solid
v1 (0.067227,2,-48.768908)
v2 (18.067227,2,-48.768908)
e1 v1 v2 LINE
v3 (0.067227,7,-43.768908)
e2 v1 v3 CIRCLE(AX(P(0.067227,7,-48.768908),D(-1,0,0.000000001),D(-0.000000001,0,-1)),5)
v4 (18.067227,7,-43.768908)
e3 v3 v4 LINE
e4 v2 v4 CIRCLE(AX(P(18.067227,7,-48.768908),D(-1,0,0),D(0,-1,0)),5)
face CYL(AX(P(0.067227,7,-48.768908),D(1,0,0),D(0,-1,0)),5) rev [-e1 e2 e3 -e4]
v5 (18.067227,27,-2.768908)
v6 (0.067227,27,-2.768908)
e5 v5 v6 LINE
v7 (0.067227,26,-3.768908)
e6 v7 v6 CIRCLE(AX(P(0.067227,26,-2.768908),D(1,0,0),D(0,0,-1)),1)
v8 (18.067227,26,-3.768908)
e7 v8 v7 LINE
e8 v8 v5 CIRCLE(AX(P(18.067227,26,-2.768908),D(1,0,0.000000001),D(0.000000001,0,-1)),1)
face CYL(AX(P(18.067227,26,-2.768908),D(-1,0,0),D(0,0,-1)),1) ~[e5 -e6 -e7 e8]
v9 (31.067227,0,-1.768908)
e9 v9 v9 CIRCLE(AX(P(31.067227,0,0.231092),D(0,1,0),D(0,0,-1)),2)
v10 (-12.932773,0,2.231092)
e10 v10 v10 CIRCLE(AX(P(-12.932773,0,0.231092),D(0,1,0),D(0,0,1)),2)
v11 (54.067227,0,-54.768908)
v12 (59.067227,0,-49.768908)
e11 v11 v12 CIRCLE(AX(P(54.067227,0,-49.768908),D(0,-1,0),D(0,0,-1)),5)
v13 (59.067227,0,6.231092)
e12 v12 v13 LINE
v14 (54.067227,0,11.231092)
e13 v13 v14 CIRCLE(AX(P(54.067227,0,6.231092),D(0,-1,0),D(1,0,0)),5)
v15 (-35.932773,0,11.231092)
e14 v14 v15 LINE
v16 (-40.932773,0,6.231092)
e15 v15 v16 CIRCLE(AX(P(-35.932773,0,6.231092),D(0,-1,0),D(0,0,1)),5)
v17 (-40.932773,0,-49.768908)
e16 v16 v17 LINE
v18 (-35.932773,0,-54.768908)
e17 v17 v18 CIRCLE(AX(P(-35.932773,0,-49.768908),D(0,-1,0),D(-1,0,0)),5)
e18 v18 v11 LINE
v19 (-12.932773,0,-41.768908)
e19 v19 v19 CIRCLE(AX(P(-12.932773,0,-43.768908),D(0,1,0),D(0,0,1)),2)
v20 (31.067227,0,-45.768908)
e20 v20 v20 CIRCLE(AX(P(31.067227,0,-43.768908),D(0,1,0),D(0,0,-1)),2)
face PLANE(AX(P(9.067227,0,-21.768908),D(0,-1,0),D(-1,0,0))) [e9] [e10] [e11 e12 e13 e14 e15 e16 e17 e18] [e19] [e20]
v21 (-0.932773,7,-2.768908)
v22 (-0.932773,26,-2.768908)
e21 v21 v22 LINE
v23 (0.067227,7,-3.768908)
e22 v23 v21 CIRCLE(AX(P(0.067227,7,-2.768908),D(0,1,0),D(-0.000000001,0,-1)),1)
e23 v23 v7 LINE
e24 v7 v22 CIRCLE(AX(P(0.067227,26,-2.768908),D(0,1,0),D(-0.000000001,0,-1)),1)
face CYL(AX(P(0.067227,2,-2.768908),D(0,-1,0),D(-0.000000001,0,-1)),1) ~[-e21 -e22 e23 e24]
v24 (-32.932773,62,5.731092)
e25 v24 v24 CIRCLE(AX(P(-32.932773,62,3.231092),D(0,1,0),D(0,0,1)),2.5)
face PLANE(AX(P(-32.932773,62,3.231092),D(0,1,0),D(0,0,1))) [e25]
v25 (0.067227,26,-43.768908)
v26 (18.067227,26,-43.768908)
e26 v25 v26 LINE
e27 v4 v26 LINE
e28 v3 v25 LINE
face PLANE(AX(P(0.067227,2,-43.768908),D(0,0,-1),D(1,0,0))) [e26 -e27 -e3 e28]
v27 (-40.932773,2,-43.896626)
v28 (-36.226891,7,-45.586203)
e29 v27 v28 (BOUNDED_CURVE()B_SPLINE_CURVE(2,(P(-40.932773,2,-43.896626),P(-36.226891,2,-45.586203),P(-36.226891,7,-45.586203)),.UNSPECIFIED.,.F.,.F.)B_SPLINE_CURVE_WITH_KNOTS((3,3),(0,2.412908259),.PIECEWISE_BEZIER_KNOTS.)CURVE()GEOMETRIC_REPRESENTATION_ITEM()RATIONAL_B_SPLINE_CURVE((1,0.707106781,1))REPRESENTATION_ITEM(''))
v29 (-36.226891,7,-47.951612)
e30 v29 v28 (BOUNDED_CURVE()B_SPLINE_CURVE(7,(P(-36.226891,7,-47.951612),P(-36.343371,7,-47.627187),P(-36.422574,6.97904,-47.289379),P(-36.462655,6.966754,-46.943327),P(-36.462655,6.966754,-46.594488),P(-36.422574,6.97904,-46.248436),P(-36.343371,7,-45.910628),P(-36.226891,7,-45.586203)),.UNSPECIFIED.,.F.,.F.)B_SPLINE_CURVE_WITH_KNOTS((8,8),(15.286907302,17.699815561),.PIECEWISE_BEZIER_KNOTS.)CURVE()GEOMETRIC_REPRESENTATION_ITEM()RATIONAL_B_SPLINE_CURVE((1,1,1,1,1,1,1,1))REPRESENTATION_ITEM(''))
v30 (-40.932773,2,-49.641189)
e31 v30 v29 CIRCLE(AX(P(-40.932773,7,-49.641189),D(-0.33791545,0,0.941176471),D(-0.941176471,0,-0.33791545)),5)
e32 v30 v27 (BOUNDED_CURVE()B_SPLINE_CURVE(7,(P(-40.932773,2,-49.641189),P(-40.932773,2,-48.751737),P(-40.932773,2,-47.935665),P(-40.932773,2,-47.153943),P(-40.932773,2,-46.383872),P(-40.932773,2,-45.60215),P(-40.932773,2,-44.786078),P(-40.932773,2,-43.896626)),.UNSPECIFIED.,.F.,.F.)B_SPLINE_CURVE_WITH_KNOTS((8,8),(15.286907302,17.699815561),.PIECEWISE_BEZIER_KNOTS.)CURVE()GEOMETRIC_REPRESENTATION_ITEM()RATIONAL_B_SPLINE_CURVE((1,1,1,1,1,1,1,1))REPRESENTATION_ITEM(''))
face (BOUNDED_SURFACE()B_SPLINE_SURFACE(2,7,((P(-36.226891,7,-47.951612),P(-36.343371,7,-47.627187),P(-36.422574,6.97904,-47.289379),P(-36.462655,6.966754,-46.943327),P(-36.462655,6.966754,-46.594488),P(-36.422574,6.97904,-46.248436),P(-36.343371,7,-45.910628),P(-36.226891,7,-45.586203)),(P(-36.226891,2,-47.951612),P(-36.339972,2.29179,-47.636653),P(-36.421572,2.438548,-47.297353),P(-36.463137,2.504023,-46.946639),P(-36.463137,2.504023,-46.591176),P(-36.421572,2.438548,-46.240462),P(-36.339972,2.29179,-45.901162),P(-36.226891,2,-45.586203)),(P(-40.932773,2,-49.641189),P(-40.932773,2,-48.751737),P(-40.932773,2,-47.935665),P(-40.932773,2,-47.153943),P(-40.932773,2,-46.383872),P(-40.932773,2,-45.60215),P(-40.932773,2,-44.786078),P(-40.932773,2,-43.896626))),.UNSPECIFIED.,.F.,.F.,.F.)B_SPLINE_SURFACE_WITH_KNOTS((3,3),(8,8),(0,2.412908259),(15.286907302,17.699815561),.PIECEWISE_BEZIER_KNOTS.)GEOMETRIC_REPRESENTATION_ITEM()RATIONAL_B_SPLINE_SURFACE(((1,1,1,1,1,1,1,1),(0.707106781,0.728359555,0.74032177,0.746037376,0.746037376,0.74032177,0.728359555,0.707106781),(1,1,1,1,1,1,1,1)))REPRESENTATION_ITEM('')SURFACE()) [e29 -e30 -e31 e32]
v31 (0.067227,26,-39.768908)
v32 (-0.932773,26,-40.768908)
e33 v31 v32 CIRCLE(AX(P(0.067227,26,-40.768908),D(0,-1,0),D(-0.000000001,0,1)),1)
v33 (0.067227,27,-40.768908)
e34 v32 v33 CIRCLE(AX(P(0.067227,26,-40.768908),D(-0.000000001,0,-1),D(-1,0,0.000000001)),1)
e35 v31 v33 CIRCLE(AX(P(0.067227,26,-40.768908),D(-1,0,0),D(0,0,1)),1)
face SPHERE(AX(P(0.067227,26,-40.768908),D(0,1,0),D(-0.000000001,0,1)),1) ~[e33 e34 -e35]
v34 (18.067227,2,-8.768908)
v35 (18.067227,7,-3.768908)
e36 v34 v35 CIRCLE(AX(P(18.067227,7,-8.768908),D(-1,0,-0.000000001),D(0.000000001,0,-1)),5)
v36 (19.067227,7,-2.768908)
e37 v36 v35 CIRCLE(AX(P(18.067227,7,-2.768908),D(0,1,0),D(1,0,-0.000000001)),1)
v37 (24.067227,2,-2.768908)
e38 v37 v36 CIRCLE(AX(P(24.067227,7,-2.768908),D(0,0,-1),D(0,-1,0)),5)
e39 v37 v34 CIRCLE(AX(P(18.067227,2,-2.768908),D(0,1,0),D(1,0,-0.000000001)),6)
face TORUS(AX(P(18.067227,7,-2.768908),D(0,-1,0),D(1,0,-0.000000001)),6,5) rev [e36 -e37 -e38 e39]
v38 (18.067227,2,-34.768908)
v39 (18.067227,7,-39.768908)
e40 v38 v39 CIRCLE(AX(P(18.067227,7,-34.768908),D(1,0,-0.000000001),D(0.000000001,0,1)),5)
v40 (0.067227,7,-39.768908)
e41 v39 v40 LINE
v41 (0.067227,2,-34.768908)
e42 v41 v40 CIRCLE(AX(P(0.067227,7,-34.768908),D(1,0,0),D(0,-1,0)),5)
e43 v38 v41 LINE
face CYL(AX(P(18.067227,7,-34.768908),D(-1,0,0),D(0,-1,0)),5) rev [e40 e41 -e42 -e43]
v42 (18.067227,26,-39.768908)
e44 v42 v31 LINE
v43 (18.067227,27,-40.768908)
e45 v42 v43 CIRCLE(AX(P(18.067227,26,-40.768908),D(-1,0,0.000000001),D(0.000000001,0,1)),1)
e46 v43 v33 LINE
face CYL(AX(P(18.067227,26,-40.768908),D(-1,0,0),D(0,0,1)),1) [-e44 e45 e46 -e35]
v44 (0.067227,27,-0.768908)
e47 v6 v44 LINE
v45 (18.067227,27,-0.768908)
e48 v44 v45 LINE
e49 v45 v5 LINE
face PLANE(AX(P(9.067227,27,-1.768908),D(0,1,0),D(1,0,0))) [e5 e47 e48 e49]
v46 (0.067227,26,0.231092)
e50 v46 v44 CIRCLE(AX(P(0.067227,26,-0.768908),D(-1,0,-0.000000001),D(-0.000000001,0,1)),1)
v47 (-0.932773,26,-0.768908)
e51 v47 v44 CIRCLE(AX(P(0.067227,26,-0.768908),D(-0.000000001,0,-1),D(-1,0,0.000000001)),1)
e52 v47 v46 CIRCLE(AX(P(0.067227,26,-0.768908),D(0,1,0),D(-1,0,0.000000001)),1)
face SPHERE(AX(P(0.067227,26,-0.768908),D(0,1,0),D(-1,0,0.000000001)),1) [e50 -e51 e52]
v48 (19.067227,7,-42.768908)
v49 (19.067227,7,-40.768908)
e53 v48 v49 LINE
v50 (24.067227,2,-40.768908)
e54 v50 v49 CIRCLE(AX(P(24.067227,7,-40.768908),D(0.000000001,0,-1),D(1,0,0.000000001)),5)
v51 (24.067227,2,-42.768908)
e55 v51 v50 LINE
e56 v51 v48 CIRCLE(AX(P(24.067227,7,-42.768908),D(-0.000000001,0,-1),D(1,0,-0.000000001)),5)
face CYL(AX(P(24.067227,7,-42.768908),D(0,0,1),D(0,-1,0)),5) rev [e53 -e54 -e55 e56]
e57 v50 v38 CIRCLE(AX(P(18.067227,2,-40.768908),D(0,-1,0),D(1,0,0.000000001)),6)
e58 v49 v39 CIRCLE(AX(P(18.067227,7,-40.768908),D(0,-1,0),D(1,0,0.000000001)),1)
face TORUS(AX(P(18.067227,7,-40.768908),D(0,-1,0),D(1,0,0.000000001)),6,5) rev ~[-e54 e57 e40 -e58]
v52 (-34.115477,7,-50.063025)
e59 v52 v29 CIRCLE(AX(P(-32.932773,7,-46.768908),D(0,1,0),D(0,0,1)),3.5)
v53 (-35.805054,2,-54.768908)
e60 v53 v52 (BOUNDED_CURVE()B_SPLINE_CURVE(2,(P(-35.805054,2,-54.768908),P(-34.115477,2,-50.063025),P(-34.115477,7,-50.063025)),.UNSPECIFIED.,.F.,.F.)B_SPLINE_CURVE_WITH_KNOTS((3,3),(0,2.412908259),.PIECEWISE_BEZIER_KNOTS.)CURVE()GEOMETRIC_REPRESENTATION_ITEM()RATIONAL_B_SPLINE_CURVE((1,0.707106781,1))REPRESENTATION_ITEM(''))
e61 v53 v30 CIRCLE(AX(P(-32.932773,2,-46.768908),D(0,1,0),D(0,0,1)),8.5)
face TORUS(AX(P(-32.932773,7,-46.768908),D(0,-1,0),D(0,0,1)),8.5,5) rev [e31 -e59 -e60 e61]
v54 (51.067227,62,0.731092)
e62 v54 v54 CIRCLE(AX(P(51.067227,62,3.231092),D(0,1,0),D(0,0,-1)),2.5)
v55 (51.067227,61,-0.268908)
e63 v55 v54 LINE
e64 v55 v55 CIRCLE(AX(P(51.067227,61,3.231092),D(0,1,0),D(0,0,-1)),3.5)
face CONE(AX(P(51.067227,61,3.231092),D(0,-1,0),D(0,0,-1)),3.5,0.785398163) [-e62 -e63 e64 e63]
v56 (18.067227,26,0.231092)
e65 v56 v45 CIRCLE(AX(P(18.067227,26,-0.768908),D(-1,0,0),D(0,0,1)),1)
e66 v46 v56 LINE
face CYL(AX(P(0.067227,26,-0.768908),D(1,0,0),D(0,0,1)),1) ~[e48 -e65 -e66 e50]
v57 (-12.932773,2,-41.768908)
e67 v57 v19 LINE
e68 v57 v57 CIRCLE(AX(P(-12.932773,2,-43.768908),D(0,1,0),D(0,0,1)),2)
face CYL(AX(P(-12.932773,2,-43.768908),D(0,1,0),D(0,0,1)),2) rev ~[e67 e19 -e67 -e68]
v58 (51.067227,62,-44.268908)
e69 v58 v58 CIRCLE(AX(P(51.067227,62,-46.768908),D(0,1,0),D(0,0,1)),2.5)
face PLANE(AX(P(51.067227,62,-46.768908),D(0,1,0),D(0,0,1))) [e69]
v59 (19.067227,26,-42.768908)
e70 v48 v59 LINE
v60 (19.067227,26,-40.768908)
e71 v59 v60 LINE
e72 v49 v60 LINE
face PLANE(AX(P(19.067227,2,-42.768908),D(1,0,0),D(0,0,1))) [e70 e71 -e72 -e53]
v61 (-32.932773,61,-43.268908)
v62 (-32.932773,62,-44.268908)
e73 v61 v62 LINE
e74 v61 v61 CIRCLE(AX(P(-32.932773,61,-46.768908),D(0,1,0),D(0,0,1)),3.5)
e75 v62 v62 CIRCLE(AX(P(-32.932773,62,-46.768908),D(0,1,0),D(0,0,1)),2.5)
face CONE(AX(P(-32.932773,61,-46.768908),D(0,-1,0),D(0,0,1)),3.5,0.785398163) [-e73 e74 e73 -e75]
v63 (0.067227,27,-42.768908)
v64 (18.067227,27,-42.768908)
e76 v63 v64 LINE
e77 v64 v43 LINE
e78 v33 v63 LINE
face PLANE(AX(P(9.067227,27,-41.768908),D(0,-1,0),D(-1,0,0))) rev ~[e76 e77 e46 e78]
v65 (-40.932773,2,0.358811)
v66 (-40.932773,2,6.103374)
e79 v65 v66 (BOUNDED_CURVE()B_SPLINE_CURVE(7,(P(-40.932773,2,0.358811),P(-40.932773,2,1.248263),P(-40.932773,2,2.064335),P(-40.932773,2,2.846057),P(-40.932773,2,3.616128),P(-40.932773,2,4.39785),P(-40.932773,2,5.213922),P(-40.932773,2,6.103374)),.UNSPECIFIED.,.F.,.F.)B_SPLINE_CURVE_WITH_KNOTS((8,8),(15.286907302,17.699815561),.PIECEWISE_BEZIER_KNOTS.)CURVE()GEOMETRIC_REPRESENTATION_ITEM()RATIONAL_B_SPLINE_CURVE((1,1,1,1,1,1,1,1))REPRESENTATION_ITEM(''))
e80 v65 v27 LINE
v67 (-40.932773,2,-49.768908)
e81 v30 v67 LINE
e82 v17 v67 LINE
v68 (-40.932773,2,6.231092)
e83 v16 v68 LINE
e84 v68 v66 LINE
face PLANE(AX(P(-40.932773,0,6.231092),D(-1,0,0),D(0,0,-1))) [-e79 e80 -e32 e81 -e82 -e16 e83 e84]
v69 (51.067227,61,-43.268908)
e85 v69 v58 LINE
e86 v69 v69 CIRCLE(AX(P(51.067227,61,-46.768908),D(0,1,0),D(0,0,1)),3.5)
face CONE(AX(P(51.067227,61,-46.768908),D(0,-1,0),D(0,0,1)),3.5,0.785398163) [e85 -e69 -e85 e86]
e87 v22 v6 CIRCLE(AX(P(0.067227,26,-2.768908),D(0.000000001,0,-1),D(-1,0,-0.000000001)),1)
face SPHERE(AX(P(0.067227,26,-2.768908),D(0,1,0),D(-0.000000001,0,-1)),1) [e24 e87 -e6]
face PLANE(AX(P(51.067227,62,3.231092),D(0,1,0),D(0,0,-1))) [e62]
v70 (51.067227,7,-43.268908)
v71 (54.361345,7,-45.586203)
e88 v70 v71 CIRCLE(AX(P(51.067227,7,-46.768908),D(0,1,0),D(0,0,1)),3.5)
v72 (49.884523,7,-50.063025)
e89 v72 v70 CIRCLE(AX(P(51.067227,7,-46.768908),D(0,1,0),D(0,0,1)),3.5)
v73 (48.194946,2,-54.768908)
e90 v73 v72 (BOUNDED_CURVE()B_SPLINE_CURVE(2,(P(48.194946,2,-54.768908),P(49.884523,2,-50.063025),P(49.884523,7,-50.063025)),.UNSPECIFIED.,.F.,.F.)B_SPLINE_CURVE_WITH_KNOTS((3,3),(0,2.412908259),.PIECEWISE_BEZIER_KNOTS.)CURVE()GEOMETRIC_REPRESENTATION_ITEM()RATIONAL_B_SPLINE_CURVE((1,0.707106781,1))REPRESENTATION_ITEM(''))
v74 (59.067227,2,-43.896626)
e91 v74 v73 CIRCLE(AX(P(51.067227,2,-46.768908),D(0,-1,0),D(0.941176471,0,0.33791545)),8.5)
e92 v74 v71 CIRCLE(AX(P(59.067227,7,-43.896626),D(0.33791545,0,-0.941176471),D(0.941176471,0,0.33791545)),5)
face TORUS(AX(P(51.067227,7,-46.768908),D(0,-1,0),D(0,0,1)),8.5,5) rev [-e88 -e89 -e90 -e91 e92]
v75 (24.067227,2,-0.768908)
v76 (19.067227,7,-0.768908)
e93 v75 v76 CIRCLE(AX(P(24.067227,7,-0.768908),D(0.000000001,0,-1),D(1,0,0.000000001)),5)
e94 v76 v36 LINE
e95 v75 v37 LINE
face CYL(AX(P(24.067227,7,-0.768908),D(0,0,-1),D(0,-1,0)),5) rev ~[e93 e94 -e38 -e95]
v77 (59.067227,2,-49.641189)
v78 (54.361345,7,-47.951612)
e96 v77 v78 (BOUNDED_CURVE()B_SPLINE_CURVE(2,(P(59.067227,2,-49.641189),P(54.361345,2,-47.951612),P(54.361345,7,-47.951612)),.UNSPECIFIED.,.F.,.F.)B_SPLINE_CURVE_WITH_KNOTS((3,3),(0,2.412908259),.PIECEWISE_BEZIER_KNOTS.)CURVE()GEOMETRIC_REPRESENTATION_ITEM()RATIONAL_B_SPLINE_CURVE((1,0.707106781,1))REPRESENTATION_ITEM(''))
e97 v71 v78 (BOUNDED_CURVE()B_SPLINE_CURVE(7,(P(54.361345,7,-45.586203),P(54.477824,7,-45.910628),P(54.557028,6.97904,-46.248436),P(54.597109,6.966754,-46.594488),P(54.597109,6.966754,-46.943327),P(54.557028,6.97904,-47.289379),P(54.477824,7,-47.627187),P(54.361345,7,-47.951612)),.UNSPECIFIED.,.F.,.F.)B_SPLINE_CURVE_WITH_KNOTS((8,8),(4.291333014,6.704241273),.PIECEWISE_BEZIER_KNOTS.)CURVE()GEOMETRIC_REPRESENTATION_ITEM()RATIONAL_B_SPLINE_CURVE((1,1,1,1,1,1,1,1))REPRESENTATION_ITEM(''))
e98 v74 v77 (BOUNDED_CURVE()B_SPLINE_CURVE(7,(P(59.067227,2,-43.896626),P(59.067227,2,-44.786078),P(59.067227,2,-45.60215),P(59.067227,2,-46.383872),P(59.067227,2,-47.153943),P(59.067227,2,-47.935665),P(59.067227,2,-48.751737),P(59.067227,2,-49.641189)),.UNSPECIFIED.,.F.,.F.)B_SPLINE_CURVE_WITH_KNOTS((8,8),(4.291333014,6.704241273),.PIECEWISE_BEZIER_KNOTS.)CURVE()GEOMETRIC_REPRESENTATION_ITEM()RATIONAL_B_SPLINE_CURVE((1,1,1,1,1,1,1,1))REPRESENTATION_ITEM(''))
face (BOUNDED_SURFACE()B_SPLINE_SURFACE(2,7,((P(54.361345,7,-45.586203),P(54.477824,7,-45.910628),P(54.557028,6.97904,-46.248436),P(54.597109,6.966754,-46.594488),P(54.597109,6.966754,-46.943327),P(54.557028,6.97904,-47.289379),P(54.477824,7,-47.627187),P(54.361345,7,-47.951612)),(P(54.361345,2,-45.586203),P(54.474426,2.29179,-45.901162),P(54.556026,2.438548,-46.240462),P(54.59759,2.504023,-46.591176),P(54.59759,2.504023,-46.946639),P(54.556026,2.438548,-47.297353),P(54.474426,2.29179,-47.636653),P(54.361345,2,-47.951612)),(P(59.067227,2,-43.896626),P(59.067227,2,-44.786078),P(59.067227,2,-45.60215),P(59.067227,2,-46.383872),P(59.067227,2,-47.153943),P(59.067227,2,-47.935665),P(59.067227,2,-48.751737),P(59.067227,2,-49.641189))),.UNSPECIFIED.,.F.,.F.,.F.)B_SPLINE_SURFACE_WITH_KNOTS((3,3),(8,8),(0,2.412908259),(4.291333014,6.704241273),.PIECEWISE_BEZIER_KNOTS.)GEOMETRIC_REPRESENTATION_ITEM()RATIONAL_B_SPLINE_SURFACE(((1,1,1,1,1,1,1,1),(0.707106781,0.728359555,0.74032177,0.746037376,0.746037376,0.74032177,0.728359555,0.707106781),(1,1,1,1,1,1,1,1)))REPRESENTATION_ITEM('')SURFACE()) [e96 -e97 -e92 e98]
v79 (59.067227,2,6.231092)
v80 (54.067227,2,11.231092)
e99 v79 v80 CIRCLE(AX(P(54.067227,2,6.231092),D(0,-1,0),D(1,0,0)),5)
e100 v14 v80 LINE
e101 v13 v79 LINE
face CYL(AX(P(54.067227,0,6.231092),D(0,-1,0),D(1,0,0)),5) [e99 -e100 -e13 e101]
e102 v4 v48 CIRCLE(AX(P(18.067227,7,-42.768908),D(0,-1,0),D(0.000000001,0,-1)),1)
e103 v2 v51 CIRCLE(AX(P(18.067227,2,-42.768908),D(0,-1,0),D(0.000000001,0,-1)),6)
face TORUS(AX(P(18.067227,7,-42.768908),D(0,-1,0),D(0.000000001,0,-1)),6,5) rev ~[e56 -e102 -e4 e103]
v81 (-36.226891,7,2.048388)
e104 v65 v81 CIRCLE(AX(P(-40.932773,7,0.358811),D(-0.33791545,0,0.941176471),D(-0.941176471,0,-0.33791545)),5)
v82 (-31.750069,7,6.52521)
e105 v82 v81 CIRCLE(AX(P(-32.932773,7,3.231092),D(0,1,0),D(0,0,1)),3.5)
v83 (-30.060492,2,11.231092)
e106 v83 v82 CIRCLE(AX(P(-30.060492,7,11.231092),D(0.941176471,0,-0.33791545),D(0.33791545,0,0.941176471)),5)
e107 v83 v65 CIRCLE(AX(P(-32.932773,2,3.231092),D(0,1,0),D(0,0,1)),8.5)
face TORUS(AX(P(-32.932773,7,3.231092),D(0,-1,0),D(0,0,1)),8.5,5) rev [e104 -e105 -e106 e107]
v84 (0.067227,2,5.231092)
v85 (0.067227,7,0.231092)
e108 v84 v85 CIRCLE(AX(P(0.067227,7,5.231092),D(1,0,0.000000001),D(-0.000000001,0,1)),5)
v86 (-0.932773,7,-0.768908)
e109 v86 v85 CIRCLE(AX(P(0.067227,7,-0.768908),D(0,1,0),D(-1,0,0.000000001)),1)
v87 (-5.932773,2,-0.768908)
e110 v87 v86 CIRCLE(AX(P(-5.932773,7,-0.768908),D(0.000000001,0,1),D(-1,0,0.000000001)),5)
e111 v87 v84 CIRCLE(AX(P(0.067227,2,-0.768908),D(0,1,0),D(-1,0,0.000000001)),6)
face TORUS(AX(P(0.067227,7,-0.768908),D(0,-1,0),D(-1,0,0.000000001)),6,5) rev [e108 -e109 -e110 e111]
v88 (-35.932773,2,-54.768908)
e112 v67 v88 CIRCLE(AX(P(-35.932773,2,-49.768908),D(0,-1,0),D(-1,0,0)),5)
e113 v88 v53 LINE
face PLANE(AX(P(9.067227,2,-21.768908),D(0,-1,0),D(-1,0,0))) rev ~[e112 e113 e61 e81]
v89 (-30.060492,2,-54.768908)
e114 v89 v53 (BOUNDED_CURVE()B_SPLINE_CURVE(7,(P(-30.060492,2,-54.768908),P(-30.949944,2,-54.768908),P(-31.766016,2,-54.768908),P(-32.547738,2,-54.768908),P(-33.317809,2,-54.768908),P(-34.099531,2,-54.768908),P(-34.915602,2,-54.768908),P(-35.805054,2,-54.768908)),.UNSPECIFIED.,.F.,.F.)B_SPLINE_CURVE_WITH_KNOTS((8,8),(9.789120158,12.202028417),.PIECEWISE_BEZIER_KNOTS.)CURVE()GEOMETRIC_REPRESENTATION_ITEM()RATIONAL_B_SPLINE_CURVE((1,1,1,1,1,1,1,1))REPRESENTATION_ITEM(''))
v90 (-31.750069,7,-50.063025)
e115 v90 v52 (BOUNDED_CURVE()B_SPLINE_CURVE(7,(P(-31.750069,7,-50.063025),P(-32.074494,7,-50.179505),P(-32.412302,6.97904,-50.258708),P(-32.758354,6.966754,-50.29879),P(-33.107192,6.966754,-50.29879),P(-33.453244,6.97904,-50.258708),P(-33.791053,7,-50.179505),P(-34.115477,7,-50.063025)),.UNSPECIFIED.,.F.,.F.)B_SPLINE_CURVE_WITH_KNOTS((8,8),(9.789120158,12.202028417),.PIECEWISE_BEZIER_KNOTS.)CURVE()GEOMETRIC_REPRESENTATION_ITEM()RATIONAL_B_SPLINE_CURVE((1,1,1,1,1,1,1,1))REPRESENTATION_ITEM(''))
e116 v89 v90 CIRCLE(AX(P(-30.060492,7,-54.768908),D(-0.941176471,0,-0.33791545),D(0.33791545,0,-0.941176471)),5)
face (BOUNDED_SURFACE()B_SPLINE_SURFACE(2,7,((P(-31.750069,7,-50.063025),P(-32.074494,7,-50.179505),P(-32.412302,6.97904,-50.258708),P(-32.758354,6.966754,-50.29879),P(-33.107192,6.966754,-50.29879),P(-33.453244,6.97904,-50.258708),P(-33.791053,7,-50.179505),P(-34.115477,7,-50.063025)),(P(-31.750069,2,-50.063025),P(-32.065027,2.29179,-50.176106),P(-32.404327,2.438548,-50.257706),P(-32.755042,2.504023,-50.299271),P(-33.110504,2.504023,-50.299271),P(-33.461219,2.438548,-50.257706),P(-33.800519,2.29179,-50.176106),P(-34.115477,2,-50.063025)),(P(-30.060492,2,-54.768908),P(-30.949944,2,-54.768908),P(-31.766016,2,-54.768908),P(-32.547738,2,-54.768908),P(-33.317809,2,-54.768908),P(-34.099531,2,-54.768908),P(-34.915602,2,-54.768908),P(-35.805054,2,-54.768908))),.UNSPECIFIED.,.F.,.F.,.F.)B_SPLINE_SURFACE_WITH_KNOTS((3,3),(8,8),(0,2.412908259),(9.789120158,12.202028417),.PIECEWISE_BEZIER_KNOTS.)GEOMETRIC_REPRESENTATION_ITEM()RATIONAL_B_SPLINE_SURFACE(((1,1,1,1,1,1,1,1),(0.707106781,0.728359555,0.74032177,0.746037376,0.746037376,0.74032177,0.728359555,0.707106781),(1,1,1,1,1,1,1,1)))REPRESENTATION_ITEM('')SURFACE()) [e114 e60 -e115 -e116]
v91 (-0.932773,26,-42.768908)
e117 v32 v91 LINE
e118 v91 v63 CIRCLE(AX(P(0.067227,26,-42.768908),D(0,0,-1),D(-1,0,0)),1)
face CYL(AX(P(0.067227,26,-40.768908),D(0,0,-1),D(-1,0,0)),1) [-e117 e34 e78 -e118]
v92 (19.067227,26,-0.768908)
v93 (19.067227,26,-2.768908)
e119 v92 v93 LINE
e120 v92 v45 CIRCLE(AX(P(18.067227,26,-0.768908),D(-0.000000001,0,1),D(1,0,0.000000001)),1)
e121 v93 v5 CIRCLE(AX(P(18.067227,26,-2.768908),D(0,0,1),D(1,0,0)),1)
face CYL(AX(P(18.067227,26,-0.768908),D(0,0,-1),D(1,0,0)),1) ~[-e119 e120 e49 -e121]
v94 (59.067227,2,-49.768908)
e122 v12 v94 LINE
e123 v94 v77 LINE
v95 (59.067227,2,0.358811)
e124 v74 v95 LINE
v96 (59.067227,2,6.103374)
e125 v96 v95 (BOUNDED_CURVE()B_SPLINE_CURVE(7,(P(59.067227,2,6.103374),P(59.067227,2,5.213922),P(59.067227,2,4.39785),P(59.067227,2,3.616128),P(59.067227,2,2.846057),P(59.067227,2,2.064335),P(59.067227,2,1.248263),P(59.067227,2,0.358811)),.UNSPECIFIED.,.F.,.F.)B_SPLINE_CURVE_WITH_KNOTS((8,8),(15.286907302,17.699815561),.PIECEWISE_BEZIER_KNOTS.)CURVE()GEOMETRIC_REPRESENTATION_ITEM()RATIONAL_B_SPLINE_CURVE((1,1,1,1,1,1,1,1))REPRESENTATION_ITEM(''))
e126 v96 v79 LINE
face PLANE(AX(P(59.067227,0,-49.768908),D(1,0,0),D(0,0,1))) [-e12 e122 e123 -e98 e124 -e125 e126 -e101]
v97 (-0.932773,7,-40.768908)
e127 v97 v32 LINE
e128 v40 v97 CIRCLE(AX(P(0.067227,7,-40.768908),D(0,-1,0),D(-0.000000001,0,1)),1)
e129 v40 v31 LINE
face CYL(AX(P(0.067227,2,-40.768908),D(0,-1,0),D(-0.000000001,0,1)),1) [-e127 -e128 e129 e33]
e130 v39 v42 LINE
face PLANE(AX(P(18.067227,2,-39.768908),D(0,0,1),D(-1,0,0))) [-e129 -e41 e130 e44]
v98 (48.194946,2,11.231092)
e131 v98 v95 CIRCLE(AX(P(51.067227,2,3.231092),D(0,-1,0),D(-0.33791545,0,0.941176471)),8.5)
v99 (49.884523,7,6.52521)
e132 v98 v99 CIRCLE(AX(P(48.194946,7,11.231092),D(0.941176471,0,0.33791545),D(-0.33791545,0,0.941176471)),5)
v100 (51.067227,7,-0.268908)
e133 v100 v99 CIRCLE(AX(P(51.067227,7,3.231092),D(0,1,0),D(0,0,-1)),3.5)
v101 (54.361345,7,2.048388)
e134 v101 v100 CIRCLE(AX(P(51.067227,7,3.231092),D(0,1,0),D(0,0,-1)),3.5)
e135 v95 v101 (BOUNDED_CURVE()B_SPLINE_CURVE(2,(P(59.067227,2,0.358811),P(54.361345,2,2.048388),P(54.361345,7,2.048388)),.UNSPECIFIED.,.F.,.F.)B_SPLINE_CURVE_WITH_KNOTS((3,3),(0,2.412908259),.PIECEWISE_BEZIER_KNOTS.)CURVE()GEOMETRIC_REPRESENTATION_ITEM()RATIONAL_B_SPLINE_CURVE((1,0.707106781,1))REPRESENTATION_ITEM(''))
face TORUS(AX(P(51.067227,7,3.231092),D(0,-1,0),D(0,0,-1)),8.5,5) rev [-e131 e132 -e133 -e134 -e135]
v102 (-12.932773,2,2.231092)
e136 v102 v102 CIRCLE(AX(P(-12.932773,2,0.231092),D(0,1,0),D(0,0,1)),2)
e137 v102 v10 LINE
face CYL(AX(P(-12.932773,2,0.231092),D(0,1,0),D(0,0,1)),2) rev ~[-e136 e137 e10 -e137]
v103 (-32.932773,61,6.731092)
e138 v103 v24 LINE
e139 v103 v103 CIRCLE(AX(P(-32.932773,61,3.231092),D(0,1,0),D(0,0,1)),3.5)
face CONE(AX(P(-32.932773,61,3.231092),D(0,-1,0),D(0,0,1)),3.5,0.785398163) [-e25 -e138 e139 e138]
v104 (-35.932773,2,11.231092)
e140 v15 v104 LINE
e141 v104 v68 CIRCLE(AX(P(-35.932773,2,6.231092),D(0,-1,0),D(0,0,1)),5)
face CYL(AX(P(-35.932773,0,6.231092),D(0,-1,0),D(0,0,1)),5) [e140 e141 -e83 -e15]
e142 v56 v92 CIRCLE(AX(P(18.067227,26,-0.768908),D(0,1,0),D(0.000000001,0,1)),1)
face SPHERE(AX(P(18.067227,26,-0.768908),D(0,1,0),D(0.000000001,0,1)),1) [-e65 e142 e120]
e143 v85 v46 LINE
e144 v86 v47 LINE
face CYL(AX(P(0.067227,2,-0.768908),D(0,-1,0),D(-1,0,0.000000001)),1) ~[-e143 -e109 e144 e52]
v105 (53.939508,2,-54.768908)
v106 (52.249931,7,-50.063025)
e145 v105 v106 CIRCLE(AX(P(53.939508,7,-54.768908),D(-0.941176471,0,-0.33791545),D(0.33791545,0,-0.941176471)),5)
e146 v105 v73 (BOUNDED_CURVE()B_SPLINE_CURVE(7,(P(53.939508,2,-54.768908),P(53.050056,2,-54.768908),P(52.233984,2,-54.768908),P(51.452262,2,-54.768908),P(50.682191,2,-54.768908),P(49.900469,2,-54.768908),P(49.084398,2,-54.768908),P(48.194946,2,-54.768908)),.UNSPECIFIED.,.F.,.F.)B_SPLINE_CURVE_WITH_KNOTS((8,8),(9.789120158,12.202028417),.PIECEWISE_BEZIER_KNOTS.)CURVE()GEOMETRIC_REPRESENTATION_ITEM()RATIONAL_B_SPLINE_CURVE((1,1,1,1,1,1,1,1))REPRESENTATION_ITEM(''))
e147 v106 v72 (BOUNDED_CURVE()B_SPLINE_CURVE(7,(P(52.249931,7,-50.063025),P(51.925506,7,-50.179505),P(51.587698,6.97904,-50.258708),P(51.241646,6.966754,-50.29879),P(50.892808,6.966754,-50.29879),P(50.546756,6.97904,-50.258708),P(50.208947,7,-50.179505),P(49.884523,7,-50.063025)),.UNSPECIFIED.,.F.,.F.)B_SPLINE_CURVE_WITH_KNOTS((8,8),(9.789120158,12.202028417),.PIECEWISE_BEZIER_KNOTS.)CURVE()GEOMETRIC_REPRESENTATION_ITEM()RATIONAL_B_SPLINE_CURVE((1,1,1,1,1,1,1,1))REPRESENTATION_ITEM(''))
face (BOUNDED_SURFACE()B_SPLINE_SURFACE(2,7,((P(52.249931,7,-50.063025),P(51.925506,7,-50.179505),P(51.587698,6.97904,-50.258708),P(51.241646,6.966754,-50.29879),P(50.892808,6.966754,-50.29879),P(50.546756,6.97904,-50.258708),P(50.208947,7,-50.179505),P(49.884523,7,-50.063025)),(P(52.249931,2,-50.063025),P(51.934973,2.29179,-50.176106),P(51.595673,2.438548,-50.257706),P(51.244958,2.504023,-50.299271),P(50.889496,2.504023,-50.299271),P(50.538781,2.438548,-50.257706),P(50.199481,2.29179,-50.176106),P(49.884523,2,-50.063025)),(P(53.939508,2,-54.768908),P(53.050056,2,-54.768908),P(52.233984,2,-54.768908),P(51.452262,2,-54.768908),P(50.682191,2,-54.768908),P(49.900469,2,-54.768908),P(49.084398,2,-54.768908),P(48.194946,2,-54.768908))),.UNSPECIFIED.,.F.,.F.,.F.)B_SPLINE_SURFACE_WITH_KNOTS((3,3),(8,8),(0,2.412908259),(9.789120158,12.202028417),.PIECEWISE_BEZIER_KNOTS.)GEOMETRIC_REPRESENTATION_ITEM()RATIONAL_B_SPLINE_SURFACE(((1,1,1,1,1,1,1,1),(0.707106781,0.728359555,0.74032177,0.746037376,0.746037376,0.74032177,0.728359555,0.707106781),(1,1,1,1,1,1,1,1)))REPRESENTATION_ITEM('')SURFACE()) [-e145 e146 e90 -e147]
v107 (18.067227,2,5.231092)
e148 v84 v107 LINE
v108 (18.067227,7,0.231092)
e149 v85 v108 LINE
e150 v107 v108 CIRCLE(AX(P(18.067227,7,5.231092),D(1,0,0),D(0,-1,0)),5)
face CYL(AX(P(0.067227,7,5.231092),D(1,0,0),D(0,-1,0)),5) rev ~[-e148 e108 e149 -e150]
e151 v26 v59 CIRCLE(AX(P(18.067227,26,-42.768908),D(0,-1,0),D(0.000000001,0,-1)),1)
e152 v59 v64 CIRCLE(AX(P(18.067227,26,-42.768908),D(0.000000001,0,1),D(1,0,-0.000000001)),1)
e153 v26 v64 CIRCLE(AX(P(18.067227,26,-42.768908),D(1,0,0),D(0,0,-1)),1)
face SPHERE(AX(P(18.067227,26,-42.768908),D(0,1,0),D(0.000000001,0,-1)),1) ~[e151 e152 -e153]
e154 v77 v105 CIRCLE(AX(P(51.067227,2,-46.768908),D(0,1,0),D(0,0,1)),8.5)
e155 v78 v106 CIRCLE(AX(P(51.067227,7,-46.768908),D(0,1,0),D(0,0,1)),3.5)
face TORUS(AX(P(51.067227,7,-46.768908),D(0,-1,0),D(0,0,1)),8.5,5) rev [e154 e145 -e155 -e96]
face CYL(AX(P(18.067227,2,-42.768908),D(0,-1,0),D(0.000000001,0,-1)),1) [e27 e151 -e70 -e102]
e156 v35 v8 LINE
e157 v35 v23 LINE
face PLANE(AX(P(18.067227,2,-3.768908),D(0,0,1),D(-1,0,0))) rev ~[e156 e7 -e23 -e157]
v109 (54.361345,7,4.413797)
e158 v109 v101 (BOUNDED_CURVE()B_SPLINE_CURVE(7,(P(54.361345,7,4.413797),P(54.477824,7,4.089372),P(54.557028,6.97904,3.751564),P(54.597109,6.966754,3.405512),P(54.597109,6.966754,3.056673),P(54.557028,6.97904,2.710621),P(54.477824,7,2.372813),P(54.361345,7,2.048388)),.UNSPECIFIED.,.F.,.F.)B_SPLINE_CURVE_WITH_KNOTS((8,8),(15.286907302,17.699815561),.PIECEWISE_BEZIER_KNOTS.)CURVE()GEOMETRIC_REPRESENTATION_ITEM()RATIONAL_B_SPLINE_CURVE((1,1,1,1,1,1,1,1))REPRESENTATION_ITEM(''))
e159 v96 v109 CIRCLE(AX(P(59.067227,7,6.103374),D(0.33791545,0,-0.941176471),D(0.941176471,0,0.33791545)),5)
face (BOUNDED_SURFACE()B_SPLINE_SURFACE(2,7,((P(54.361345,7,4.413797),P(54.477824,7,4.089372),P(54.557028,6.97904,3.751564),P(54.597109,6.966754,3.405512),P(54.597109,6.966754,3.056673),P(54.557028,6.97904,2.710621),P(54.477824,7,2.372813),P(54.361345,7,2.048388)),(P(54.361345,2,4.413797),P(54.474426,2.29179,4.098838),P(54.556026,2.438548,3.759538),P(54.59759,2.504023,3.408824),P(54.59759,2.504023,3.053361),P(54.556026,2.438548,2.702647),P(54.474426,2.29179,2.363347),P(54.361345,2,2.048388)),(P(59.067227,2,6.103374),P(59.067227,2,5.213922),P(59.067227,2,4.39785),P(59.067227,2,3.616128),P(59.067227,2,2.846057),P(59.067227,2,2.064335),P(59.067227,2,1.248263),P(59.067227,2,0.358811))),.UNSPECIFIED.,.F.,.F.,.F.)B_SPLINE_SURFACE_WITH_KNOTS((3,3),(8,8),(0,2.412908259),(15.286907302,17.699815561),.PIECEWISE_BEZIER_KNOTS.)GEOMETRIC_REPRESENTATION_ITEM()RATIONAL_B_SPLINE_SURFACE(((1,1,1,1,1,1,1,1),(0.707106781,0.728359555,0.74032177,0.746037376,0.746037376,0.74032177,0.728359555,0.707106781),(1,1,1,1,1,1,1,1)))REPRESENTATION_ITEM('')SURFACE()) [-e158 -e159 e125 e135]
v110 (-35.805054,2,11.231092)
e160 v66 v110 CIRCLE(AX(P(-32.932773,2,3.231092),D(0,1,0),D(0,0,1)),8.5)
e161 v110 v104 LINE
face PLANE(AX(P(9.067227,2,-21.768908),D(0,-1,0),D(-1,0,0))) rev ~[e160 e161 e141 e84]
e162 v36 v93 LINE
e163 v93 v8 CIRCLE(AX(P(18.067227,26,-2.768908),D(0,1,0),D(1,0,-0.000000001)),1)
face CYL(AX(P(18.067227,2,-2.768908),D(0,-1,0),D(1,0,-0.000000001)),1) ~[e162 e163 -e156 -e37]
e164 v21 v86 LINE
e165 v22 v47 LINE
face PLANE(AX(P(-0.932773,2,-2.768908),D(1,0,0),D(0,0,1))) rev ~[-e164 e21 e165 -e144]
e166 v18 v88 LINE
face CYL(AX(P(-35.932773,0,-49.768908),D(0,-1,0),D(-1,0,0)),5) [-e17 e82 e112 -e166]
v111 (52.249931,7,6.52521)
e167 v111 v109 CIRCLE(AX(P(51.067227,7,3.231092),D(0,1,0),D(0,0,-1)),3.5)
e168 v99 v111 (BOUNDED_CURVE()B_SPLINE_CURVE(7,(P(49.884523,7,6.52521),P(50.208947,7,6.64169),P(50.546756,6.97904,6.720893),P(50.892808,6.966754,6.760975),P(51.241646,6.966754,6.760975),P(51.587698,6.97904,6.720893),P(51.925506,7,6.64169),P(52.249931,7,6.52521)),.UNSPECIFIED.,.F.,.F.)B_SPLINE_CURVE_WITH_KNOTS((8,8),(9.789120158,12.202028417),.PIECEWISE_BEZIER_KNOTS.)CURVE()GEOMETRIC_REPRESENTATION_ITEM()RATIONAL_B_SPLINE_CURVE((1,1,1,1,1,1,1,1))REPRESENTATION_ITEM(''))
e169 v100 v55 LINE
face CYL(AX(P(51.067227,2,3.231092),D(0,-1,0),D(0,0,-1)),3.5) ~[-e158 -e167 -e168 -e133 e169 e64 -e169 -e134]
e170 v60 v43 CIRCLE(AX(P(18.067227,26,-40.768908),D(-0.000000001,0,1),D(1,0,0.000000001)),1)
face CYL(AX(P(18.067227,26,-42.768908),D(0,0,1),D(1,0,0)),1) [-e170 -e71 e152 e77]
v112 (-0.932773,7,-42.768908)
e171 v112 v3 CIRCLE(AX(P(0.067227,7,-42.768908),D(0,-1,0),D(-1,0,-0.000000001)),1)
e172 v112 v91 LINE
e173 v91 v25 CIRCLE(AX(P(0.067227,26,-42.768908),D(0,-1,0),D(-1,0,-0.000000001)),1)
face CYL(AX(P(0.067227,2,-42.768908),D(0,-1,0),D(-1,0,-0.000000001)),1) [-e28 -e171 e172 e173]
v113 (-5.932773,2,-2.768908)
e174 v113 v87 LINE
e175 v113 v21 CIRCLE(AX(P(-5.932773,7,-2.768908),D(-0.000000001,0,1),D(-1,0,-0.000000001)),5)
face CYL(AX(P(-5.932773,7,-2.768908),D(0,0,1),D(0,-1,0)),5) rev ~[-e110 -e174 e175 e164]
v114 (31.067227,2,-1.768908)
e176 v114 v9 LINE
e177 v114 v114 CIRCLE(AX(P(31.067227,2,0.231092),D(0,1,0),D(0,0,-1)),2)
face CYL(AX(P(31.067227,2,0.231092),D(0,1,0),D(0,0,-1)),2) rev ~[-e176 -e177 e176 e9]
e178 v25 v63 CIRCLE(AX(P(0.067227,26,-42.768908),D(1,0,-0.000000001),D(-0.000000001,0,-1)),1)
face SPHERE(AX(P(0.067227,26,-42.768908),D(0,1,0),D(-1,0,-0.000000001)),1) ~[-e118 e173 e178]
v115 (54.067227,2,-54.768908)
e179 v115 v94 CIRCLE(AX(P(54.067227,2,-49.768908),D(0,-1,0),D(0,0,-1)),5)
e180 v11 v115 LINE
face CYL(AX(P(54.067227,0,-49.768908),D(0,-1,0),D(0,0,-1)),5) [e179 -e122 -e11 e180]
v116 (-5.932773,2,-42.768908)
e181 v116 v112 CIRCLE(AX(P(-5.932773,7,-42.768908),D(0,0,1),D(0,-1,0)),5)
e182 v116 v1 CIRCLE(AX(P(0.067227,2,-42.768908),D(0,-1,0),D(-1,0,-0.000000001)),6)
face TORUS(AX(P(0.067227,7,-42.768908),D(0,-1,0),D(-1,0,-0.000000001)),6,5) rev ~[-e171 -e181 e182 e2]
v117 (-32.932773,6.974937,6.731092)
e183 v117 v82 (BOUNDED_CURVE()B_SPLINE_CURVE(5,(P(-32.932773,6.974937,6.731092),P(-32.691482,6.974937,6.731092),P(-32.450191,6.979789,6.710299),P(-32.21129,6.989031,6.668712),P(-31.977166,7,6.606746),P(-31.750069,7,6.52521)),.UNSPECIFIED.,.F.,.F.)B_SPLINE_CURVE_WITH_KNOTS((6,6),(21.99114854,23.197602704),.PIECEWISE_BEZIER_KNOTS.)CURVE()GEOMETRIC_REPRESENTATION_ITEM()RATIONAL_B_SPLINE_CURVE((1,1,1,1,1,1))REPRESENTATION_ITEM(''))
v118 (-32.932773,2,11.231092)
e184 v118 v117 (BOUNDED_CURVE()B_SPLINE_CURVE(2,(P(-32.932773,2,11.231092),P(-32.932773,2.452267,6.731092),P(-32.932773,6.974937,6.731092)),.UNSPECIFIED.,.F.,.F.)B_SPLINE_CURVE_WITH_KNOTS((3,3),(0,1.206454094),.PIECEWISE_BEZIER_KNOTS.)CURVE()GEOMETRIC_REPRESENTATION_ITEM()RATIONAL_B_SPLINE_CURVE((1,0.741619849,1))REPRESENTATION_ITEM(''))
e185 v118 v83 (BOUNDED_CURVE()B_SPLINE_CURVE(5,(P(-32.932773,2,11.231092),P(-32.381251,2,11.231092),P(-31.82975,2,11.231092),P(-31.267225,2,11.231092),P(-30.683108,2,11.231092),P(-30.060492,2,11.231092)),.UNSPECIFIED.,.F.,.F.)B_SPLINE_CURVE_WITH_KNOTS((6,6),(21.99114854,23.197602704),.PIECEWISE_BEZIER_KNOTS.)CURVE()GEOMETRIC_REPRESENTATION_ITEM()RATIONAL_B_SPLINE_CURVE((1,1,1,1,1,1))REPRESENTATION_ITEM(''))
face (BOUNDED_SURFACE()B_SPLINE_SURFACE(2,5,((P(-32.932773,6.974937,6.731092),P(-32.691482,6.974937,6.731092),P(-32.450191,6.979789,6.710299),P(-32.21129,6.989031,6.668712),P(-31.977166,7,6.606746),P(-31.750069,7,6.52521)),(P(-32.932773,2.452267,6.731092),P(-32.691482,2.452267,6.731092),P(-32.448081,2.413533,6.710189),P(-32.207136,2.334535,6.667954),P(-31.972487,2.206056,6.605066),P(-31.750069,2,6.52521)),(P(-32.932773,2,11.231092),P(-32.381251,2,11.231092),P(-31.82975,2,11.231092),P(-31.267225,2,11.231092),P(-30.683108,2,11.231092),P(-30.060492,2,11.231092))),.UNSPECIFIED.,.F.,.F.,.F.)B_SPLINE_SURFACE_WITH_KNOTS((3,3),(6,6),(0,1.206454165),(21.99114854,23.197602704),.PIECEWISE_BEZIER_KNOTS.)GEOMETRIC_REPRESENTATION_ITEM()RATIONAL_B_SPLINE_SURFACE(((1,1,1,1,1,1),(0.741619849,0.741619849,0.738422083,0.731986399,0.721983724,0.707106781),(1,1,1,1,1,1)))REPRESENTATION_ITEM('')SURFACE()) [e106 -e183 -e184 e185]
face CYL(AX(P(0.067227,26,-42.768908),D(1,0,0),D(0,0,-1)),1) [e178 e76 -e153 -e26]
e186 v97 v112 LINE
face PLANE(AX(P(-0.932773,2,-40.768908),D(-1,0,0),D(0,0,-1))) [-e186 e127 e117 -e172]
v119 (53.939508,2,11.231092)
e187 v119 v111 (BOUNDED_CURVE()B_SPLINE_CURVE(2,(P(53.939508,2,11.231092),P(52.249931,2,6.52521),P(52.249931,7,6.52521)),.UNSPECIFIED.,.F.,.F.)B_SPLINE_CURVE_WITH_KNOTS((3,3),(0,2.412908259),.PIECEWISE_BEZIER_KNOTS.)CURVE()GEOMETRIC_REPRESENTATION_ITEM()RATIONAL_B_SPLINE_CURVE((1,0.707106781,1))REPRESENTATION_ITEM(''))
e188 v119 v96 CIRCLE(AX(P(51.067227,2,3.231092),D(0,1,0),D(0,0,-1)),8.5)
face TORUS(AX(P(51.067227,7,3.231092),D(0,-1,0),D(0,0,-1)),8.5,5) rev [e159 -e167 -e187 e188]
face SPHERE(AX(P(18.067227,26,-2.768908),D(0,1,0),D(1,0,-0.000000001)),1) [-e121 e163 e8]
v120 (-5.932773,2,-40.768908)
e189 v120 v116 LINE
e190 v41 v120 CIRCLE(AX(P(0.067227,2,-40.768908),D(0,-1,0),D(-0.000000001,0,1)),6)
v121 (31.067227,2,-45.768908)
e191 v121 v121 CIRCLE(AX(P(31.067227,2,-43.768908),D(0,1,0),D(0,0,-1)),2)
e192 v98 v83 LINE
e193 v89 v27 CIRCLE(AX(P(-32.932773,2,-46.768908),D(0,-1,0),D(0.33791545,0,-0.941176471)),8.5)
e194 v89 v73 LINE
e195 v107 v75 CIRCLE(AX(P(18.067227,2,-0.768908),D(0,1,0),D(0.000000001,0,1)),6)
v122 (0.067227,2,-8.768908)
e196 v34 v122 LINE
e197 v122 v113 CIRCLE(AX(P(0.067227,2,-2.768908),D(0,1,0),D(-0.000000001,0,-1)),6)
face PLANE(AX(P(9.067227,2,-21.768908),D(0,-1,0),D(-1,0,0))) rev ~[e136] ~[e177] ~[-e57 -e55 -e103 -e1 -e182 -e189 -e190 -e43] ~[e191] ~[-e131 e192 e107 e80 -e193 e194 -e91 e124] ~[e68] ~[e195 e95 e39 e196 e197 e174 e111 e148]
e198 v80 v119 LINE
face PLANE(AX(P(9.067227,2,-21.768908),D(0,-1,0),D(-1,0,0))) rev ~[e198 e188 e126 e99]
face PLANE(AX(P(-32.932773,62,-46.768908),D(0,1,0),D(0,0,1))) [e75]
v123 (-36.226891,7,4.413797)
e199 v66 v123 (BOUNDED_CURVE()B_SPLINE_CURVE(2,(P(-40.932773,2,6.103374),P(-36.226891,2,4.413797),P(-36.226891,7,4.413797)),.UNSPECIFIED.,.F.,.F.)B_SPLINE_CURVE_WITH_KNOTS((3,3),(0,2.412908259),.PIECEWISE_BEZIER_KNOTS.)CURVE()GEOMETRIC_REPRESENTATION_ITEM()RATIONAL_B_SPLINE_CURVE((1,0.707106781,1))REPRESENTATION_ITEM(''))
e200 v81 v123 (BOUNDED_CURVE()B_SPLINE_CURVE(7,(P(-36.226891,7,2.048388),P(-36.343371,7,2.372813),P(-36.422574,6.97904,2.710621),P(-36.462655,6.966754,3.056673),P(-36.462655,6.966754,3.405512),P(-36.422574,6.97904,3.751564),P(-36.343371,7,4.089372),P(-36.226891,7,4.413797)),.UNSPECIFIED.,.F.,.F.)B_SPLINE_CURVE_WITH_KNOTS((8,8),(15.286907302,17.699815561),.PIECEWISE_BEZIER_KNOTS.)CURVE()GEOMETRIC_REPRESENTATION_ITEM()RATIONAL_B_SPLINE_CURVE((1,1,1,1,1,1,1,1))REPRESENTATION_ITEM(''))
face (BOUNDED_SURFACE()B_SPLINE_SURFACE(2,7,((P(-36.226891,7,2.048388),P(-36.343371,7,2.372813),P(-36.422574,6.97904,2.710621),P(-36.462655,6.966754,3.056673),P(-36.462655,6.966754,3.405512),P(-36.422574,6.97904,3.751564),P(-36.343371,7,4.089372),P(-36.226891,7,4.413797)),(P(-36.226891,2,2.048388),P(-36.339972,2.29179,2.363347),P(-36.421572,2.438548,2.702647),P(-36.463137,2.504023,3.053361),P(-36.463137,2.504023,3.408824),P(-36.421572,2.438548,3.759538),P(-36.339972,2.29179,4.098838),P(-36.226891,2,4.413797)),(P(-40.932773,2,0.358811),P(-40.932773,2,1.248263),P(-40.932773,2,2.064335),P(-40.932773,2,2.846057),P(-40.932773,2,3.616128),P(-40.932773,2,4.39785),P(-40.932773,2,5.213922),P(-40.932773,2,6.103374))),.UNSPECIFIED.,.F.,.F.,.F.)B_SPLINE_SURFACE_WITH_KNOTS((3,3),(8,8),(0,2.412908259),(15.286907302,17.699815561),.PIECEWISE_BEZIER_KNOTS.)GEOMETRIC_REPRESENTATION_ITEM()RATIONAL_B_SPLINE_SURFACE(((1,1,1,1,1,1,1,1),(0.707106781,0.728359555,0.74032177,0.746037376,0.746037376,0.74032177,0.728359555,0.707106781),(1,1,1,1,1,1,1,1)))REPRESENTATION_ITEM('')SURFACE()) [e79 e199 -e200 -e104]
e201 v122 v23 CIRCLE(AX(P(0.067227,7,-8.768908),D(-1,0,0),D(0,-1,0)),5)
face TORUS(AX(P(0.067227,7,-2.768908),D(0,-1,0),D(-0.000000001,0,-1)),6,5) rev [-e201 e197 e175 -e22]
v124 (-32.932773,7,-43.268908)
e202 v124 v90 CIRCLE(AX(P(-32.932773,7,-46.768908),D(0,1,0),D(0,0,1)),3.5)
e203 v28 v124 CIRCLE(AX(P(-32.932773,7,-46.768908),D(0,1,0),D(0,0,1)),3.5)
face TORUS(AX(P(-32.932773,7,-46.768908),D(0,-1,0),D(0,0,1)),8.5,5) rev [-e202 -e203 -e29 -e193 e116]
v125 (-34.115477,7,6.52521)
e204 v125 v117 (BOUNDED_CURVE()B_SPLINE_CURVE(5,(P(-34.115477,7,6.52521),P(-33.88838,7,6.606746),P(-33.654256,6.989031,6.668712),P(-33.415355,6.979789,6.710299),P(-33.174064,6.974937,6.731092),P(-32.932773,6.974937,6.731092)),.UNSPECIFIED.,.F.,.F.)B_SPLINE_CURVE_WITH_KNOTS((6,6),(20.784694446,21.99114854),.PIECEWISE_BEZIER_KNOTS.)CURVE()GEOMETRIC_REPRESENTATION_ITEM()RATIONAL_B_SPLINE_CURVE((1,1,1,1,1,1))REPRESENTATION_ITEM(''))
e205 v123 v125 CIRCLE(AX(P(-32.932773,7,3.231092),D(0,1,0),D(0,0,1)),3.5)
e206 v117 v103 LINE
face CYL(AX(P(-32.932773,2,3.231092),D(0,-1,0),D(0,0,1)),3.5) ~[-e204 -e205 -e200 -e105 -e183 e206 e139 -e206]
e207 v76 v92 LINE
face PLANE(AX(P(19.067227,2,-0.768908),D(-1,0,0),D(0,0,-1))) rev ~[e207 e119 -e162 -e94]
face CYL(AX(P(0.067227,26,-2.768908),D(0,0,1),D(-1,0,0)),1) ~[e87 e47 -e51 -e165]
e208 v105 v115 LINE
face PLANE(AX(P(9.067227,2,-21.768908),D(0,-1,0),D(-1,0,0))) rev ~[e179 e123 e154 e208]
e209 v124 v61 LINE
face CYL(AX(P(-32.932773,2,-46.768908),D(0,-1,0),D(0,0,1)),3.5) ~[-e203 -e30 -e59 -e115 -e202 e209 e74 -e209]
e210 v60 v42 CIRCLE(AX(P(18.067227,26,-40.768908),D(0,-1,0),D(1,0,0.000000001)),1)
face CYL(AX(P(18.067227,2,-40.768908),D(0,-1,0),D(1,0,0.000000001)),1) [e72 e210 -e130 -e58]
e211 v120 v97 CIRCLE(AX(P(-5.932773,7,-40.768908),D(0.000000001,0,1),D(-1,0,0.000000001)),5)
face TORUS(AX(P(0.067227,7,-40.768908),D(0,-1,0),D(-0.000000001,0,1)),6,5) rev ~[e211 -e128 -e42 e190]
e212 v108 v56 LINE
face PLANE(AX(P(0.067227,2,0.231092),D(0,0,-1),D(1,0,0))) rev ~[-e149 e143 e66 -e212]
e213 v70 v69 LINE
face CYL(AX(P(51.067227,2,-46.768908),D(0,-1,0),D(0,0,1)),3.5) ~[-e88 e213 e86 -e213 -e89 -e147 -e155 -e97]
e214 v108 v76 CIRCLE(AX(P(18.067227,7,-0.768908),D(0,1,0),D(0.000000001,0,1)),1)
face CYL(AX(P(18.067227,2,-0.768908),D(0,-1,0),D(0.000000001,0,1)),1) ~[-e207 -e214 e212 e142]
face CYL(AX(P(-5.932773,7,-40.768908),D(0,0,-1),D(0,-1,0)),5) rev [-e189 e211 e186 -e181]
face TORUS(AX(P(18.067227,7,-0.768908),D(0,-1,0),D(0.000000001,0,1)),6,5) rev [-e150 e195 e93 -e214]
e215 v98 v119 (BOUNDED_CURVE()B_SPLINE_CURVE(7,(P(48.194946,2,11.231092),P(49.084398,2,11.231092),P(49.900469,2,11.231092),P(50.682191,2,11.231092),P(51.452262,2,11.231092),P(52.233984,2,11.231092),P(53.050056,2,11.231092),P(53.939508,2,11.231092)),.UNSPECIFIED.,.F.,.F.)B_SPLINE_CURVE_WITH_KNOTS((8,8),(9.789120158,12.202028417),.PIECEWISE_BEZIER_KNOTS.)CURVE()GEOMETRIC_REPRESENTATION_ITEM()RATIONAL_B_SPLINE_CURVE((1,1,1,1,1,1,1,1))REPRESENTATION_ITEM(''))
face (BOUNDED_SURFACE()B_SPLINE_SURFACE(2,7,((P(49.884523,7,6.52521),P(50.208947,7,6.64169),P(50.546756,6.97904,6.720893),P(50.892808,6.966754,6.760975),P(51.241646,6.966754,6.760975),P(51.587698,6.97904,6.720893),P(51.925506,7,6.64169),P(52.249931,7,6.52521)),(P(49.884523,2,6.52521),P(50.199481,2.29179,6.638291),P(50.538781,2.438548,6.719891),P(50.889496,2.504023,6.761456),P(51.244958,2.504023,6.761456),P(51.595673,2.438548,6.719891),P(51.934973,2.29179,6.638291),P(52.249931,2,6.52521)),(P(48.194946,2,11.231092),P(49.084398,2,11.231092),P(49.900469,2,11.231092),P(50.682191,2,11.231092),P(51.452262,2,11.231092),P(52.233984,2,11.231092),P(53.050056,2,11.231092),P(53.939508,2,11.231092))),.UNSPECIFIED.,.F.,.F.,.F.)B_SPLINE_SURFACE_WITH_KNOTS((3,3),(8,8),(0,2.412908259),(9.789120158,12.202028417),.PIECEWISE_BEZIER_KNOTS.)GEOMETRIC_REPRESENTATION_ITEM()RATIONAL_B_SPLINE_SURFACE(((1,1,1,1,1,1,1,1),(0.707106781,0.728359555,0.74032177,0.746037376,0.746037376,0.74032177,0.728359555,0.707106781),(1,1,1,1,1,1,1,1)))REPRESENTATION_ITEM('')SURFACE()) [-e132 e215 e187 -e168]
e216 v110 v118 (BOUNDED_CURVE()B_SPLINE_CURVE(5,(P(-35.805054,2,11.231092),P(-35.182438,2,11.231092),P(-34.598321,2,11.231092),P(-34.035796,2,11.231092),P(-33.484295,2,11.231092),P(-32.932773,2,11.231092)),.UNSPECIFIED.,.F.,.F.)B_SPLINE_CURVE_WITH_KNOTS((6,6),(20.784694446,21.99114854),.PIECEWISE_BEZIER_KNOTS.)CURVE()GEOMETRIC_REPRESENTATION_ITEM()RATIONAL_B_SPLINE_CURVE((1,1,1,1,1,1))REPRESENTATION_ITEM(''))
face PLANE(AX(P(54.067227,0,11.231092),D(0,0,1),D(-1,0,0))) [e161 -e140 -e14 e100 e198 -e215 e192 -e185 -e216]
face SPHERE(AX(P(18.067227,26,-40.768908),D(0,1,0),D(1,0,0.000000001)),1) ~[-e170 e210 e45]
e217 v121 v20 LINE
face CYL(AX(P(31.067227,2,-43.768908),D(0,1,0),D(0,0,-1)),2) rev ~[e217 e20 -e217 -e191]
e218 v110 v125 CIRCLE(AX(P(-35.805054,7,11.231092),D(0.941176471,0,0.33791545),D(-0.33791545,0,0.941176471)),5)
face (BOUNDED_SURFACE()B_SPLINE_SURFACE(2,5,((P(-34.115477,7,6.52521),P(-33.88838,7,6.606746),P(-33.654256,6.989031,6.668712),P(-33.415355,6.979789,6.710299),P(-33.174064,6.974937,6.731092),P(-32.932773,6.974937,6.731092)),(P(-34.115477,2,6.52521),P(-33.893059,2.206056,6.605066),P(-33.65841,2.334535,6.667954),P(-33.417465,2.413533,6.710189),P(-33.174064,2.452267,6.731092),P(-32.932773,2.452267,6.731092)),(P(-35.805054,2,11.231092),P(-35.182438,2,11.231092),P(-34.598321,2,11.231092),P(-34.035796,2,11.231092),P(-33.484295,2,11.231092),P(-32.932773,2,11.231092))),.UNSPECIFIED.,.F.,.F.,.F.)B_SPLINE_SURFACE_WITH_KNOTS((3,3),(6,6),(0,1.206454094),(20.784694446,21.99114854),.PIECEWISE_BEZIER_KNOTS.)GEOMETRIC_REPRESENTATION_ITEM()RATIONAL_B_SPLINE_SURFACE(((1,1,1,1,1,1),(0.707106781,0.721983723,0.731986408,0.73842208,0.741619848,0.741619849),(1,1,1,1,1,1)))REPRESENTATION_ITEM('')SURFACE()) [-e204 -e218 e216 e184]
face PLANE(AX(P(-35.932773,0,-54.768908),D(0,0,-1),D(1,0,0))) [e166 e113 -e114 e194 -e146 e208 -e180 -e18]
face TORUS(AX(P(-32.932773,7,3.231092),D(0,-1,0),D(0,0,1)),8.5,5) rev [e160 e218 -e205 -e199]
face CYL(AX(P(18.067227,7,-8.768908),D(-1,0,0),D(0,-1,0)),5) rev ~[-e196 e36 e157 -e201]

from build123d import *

# Parameters (mm, degrees)
BOSS_EXTRUDE1_DEPTH = 2
SKETCH3_R           = 3.5
BOSS_EXTRUDE2_DEPTH = 60
BOSS_EXTRUDE3_DEPTH = 25
FILLET3_R           = 5
SKETCH6_R           = 2
CUT_EXTRUDE1_DEPTH  = 101.441876541
FILLET4_R           = 5
FILLET5_R           = 1
CHAMFER1_SIZE       = 1


with BuildPart() as part:
    # Sketch1 → Boss-Extrude1 (new body)
    with BuildSketch(Plane(origin=(0, 0, 0), x_dir=(1, 0, 0), z_dir=(0, 1, 0))):
        with BuildLine():
            Line((-35.932773109, 54.768907563), (54.067226891, 54.768907563))
            ThreePointArc((54.067226891, 54.768907563), (57.602760797, 53.304441469), (59.067226891, 49.768907563))
            Line((59.067226891, 49.768907563), (59.067226891, -6.231092437))
            ThreePointArc((59.067226891, -6.231092437), (57.602760797, -9.766626343), (54.067226891, -11.231092437))
            Line((54.067226891, -11.231092437), (-35.932773109, -11.231092437))
            ThreePointArc((-35.932773109, -11.231092437), (-39.468307015, -9.766626343), (-40.932773109, -6.231092437))
            Line((-40.932773109, -6.231092437), (-40.932773109, 49.768907563))
            ThreePointArc((-40.932773109, 49.768907563), (-39.468307015, 53.304441469), (-35.932773109, 54.768907563))
        make_face()
    extrude(amount=BOSS_EXTRUDE1_DEPTH)

    # Sketch3 → Boss-Extrude2 (add)
    with BuildSketch(Plane(origin=(0, 2, 0), x_dir=(1, 0, 0), z_dir=(0, 1, 0))):
        with Locations(Location((-32.932773109, 46.768907563, 0), (0, 0, 270))):
            Circle(SKETCH3_R)
        with Locations(Location((-32.932773109, -3.231092437, 0), (0, 0, 270))):
            Circle(SKETCH3_R)
        with Locations(Location((51.067226891, -3.231092437, 0), (0, 0, 90))):
            Circle(SKETCH3_R)
        with Locations(Location((51.067226891, 46.768907563, 0), (0, 0, 270))):
            Circle(SKETCH3_R)
    extrude(amount=BOSS_EXTRUDE2_DEPTH)

    # Sketch4 → Boss-Extrude3 (add)
    with BuildSketch(Plane(origin=(0, 2, 0), x_dir=(1, 0, 0), z_dir=(0, 1, 0))):
        with BuildLine():
            Line((0.067226891, 43.768907563), (18.067226891, 43.768907563))
            ThreePointArc((18.067226891, 43.768907563), (18.774333672, 43.476014344), (19.067226891, 42.768907563))
            Line((19.067226891, 42.768907563), (19.067226891, 40.768907563))
            ThreePointArc((19.067226891, 40.768907563), (18.774333672, 40.061800782), (18.067226891, 39.768907563))
            Line((18.067226891, 39.768907563), (0.067226891, 39.768907563))
            ThreePointArc((0.067226891, 39.768907563), (-0.63987989, 40.061800782), (-0.932773109, 40.768907563))
            Line((-0.932773109, 40.768907563), (-0.932773109, 42.768907563))
            ThreePointArc((-0.932773109, 42.768907563), (-0.63987989, 43.476014344), (0.067226891, 43.768907563))
        make_face()
        with BuildLine():
            Line((19.067226891, 0.768907563), (19.067226891, 2.768907563))
            ThreePointArc((19.067226891, 2.768907563), (18.774333672, 3.476014344), (18.067226891, 3.768907563))
            Line((18.067226891, 3.768907563), (0.067226891, 3.768907563))
            ThreePointArc((0.067226891, 3.768907563), (-0.63987989, 3.476014344), (-0.932773109, 2.768907563))
            Line((-0.932773109, 2.768907563), (-0.932773109, 0.768907563))
            ThreePointArc((-0.932773109, 0.768907563), (-0.63987989, 0.061800782), (0.067226891, -0.231092437))
            Line((0.067226891, -0.231092437), (18.067226891, -0.231092437))
            ThreePointArc((18.067226891, -0.231092437), (18.774333672, 0.061800782), (19.067226891, 0.768907563))
        make_face()
    extrude(amount=BOSS_EXTRUDE3_DEPTH)

    # Fillet3
    fillet3_edges = [part.edges().sort_by_distance(p)[0] for p in [
        (-32.932773109, 2, -50.268907563),
        (-32.932773109, 2, -0.268907563),
        (51.067226891, 2, 6.731092437),
        (51.067226891, 2, -50.268907563),
    ]]
    fillet(fillet3_edges, radius=FILLET3_R)

    # Sketch6 → Cut-Extrude1 (cut, through all)
    with BuildSketch(Plane(origin=(0, 2, 0), x_dir=(1, 0, 0), z_dir=(0, 1, 0))):
        with Locations(Location((-12.932773109, 43.768907563, 0), (0, 0, 270))):
            Circle(SKETCH6_R)
        with Locations(Location((-12.932773109, -0.231092437, 0), (0, 0, 270))):
            Circle(SKETCH6_R)
        with Locations(Location((31.067226891, -0.231092437, 0), (0, 0, 90))):
            Circle(SKETCH6_R)
        with Locations(Location((31.067226891, 43.768907563, 0), (0, 0, 90))):
            Circle(SKETCH6_R)
    extrude(amount=-CUT_EXTRUDE1_DEPTH, mode=Mode.SUBTRACT)

    # Fillet4
    fillet4_edges = [part.edges().sort_by_distance(p)[0] for p in [
        (-0.63987989, 2, -0.061800782),
        (9.067226891, 2, 0.231092437),
        (18.774333672, 2, -0.061800782),
        (19.067226891, 2, -1.768907563),
        (18.774333672, 2, -3.476014344),
        (9.067226891, 2, -3.768907563),
        (-0.63987989, 2, -3.476014344),
        (-0.932773109, 2, -1.768907563),
        (18.774333672, 2, -40.061800782),
        (19.067226891, 2, -41.768907563),
        (18.774333672, 2, -43.476014344),
        (9.067226891, 2, -43.768907563),
        (-0.63987989, 2, -43.476014344),
        (-0.932773109, 2, -41.768907563),
        (-0.63987989, 2, -40.061800782),
        (9.067226891, 2, -39.768907563),
    ]]
    fillet(fillet4_edges, radius=FILLET4_R)

    # Fillet5
    fillet5_edges = [part.edges().sort_by_distance(p)[0] for p in [
        (-0.63987989, 27, -0.061800782),
        (9.067226891, 27, 0.231092437),
        (18.774333672, 27, -0.061800782),
        (19.067226891, 27, -1.768907563),
        (18.774333672, 27, -3.476014344),
        (9.067226891, 27, -3.768907563),
        (-0.63987989, 27, -3.476014344),
        (-0.932773109, 27, -1.768907563),
        (18.774333672, 27, -40.061800782),
        (19.067226891, 27, -41.768907563),
        (18.774333672, 27, -43.476014344),
        (9.067226891, 27, -43.768907563),
        (-0.63987989, 27, -43.476014344),
        (-0.932773109, 27, -41.768907563),
        (-0.63987989, 27, -40.061800782),
        (9.067226891, 27, -39.768907563),
    ]]
    fillet(fillet5_edges, radius=FILLET5_R)

    # Chamfer1
    chamfer1_edges = [part.edges().sort_by_distance(p)[0] for p in [
        (-32.932773109, 62, -50.268907563),
        (-32.932773109, 62, -0.268907563),
        (51.067226891, 62, 6.731092437),
        (51.067226891, 62, -50.268907563),
    ]]
    chamfer(chamfer1_edges, length=CHAMFER1_SIZE)


solid = part.part
